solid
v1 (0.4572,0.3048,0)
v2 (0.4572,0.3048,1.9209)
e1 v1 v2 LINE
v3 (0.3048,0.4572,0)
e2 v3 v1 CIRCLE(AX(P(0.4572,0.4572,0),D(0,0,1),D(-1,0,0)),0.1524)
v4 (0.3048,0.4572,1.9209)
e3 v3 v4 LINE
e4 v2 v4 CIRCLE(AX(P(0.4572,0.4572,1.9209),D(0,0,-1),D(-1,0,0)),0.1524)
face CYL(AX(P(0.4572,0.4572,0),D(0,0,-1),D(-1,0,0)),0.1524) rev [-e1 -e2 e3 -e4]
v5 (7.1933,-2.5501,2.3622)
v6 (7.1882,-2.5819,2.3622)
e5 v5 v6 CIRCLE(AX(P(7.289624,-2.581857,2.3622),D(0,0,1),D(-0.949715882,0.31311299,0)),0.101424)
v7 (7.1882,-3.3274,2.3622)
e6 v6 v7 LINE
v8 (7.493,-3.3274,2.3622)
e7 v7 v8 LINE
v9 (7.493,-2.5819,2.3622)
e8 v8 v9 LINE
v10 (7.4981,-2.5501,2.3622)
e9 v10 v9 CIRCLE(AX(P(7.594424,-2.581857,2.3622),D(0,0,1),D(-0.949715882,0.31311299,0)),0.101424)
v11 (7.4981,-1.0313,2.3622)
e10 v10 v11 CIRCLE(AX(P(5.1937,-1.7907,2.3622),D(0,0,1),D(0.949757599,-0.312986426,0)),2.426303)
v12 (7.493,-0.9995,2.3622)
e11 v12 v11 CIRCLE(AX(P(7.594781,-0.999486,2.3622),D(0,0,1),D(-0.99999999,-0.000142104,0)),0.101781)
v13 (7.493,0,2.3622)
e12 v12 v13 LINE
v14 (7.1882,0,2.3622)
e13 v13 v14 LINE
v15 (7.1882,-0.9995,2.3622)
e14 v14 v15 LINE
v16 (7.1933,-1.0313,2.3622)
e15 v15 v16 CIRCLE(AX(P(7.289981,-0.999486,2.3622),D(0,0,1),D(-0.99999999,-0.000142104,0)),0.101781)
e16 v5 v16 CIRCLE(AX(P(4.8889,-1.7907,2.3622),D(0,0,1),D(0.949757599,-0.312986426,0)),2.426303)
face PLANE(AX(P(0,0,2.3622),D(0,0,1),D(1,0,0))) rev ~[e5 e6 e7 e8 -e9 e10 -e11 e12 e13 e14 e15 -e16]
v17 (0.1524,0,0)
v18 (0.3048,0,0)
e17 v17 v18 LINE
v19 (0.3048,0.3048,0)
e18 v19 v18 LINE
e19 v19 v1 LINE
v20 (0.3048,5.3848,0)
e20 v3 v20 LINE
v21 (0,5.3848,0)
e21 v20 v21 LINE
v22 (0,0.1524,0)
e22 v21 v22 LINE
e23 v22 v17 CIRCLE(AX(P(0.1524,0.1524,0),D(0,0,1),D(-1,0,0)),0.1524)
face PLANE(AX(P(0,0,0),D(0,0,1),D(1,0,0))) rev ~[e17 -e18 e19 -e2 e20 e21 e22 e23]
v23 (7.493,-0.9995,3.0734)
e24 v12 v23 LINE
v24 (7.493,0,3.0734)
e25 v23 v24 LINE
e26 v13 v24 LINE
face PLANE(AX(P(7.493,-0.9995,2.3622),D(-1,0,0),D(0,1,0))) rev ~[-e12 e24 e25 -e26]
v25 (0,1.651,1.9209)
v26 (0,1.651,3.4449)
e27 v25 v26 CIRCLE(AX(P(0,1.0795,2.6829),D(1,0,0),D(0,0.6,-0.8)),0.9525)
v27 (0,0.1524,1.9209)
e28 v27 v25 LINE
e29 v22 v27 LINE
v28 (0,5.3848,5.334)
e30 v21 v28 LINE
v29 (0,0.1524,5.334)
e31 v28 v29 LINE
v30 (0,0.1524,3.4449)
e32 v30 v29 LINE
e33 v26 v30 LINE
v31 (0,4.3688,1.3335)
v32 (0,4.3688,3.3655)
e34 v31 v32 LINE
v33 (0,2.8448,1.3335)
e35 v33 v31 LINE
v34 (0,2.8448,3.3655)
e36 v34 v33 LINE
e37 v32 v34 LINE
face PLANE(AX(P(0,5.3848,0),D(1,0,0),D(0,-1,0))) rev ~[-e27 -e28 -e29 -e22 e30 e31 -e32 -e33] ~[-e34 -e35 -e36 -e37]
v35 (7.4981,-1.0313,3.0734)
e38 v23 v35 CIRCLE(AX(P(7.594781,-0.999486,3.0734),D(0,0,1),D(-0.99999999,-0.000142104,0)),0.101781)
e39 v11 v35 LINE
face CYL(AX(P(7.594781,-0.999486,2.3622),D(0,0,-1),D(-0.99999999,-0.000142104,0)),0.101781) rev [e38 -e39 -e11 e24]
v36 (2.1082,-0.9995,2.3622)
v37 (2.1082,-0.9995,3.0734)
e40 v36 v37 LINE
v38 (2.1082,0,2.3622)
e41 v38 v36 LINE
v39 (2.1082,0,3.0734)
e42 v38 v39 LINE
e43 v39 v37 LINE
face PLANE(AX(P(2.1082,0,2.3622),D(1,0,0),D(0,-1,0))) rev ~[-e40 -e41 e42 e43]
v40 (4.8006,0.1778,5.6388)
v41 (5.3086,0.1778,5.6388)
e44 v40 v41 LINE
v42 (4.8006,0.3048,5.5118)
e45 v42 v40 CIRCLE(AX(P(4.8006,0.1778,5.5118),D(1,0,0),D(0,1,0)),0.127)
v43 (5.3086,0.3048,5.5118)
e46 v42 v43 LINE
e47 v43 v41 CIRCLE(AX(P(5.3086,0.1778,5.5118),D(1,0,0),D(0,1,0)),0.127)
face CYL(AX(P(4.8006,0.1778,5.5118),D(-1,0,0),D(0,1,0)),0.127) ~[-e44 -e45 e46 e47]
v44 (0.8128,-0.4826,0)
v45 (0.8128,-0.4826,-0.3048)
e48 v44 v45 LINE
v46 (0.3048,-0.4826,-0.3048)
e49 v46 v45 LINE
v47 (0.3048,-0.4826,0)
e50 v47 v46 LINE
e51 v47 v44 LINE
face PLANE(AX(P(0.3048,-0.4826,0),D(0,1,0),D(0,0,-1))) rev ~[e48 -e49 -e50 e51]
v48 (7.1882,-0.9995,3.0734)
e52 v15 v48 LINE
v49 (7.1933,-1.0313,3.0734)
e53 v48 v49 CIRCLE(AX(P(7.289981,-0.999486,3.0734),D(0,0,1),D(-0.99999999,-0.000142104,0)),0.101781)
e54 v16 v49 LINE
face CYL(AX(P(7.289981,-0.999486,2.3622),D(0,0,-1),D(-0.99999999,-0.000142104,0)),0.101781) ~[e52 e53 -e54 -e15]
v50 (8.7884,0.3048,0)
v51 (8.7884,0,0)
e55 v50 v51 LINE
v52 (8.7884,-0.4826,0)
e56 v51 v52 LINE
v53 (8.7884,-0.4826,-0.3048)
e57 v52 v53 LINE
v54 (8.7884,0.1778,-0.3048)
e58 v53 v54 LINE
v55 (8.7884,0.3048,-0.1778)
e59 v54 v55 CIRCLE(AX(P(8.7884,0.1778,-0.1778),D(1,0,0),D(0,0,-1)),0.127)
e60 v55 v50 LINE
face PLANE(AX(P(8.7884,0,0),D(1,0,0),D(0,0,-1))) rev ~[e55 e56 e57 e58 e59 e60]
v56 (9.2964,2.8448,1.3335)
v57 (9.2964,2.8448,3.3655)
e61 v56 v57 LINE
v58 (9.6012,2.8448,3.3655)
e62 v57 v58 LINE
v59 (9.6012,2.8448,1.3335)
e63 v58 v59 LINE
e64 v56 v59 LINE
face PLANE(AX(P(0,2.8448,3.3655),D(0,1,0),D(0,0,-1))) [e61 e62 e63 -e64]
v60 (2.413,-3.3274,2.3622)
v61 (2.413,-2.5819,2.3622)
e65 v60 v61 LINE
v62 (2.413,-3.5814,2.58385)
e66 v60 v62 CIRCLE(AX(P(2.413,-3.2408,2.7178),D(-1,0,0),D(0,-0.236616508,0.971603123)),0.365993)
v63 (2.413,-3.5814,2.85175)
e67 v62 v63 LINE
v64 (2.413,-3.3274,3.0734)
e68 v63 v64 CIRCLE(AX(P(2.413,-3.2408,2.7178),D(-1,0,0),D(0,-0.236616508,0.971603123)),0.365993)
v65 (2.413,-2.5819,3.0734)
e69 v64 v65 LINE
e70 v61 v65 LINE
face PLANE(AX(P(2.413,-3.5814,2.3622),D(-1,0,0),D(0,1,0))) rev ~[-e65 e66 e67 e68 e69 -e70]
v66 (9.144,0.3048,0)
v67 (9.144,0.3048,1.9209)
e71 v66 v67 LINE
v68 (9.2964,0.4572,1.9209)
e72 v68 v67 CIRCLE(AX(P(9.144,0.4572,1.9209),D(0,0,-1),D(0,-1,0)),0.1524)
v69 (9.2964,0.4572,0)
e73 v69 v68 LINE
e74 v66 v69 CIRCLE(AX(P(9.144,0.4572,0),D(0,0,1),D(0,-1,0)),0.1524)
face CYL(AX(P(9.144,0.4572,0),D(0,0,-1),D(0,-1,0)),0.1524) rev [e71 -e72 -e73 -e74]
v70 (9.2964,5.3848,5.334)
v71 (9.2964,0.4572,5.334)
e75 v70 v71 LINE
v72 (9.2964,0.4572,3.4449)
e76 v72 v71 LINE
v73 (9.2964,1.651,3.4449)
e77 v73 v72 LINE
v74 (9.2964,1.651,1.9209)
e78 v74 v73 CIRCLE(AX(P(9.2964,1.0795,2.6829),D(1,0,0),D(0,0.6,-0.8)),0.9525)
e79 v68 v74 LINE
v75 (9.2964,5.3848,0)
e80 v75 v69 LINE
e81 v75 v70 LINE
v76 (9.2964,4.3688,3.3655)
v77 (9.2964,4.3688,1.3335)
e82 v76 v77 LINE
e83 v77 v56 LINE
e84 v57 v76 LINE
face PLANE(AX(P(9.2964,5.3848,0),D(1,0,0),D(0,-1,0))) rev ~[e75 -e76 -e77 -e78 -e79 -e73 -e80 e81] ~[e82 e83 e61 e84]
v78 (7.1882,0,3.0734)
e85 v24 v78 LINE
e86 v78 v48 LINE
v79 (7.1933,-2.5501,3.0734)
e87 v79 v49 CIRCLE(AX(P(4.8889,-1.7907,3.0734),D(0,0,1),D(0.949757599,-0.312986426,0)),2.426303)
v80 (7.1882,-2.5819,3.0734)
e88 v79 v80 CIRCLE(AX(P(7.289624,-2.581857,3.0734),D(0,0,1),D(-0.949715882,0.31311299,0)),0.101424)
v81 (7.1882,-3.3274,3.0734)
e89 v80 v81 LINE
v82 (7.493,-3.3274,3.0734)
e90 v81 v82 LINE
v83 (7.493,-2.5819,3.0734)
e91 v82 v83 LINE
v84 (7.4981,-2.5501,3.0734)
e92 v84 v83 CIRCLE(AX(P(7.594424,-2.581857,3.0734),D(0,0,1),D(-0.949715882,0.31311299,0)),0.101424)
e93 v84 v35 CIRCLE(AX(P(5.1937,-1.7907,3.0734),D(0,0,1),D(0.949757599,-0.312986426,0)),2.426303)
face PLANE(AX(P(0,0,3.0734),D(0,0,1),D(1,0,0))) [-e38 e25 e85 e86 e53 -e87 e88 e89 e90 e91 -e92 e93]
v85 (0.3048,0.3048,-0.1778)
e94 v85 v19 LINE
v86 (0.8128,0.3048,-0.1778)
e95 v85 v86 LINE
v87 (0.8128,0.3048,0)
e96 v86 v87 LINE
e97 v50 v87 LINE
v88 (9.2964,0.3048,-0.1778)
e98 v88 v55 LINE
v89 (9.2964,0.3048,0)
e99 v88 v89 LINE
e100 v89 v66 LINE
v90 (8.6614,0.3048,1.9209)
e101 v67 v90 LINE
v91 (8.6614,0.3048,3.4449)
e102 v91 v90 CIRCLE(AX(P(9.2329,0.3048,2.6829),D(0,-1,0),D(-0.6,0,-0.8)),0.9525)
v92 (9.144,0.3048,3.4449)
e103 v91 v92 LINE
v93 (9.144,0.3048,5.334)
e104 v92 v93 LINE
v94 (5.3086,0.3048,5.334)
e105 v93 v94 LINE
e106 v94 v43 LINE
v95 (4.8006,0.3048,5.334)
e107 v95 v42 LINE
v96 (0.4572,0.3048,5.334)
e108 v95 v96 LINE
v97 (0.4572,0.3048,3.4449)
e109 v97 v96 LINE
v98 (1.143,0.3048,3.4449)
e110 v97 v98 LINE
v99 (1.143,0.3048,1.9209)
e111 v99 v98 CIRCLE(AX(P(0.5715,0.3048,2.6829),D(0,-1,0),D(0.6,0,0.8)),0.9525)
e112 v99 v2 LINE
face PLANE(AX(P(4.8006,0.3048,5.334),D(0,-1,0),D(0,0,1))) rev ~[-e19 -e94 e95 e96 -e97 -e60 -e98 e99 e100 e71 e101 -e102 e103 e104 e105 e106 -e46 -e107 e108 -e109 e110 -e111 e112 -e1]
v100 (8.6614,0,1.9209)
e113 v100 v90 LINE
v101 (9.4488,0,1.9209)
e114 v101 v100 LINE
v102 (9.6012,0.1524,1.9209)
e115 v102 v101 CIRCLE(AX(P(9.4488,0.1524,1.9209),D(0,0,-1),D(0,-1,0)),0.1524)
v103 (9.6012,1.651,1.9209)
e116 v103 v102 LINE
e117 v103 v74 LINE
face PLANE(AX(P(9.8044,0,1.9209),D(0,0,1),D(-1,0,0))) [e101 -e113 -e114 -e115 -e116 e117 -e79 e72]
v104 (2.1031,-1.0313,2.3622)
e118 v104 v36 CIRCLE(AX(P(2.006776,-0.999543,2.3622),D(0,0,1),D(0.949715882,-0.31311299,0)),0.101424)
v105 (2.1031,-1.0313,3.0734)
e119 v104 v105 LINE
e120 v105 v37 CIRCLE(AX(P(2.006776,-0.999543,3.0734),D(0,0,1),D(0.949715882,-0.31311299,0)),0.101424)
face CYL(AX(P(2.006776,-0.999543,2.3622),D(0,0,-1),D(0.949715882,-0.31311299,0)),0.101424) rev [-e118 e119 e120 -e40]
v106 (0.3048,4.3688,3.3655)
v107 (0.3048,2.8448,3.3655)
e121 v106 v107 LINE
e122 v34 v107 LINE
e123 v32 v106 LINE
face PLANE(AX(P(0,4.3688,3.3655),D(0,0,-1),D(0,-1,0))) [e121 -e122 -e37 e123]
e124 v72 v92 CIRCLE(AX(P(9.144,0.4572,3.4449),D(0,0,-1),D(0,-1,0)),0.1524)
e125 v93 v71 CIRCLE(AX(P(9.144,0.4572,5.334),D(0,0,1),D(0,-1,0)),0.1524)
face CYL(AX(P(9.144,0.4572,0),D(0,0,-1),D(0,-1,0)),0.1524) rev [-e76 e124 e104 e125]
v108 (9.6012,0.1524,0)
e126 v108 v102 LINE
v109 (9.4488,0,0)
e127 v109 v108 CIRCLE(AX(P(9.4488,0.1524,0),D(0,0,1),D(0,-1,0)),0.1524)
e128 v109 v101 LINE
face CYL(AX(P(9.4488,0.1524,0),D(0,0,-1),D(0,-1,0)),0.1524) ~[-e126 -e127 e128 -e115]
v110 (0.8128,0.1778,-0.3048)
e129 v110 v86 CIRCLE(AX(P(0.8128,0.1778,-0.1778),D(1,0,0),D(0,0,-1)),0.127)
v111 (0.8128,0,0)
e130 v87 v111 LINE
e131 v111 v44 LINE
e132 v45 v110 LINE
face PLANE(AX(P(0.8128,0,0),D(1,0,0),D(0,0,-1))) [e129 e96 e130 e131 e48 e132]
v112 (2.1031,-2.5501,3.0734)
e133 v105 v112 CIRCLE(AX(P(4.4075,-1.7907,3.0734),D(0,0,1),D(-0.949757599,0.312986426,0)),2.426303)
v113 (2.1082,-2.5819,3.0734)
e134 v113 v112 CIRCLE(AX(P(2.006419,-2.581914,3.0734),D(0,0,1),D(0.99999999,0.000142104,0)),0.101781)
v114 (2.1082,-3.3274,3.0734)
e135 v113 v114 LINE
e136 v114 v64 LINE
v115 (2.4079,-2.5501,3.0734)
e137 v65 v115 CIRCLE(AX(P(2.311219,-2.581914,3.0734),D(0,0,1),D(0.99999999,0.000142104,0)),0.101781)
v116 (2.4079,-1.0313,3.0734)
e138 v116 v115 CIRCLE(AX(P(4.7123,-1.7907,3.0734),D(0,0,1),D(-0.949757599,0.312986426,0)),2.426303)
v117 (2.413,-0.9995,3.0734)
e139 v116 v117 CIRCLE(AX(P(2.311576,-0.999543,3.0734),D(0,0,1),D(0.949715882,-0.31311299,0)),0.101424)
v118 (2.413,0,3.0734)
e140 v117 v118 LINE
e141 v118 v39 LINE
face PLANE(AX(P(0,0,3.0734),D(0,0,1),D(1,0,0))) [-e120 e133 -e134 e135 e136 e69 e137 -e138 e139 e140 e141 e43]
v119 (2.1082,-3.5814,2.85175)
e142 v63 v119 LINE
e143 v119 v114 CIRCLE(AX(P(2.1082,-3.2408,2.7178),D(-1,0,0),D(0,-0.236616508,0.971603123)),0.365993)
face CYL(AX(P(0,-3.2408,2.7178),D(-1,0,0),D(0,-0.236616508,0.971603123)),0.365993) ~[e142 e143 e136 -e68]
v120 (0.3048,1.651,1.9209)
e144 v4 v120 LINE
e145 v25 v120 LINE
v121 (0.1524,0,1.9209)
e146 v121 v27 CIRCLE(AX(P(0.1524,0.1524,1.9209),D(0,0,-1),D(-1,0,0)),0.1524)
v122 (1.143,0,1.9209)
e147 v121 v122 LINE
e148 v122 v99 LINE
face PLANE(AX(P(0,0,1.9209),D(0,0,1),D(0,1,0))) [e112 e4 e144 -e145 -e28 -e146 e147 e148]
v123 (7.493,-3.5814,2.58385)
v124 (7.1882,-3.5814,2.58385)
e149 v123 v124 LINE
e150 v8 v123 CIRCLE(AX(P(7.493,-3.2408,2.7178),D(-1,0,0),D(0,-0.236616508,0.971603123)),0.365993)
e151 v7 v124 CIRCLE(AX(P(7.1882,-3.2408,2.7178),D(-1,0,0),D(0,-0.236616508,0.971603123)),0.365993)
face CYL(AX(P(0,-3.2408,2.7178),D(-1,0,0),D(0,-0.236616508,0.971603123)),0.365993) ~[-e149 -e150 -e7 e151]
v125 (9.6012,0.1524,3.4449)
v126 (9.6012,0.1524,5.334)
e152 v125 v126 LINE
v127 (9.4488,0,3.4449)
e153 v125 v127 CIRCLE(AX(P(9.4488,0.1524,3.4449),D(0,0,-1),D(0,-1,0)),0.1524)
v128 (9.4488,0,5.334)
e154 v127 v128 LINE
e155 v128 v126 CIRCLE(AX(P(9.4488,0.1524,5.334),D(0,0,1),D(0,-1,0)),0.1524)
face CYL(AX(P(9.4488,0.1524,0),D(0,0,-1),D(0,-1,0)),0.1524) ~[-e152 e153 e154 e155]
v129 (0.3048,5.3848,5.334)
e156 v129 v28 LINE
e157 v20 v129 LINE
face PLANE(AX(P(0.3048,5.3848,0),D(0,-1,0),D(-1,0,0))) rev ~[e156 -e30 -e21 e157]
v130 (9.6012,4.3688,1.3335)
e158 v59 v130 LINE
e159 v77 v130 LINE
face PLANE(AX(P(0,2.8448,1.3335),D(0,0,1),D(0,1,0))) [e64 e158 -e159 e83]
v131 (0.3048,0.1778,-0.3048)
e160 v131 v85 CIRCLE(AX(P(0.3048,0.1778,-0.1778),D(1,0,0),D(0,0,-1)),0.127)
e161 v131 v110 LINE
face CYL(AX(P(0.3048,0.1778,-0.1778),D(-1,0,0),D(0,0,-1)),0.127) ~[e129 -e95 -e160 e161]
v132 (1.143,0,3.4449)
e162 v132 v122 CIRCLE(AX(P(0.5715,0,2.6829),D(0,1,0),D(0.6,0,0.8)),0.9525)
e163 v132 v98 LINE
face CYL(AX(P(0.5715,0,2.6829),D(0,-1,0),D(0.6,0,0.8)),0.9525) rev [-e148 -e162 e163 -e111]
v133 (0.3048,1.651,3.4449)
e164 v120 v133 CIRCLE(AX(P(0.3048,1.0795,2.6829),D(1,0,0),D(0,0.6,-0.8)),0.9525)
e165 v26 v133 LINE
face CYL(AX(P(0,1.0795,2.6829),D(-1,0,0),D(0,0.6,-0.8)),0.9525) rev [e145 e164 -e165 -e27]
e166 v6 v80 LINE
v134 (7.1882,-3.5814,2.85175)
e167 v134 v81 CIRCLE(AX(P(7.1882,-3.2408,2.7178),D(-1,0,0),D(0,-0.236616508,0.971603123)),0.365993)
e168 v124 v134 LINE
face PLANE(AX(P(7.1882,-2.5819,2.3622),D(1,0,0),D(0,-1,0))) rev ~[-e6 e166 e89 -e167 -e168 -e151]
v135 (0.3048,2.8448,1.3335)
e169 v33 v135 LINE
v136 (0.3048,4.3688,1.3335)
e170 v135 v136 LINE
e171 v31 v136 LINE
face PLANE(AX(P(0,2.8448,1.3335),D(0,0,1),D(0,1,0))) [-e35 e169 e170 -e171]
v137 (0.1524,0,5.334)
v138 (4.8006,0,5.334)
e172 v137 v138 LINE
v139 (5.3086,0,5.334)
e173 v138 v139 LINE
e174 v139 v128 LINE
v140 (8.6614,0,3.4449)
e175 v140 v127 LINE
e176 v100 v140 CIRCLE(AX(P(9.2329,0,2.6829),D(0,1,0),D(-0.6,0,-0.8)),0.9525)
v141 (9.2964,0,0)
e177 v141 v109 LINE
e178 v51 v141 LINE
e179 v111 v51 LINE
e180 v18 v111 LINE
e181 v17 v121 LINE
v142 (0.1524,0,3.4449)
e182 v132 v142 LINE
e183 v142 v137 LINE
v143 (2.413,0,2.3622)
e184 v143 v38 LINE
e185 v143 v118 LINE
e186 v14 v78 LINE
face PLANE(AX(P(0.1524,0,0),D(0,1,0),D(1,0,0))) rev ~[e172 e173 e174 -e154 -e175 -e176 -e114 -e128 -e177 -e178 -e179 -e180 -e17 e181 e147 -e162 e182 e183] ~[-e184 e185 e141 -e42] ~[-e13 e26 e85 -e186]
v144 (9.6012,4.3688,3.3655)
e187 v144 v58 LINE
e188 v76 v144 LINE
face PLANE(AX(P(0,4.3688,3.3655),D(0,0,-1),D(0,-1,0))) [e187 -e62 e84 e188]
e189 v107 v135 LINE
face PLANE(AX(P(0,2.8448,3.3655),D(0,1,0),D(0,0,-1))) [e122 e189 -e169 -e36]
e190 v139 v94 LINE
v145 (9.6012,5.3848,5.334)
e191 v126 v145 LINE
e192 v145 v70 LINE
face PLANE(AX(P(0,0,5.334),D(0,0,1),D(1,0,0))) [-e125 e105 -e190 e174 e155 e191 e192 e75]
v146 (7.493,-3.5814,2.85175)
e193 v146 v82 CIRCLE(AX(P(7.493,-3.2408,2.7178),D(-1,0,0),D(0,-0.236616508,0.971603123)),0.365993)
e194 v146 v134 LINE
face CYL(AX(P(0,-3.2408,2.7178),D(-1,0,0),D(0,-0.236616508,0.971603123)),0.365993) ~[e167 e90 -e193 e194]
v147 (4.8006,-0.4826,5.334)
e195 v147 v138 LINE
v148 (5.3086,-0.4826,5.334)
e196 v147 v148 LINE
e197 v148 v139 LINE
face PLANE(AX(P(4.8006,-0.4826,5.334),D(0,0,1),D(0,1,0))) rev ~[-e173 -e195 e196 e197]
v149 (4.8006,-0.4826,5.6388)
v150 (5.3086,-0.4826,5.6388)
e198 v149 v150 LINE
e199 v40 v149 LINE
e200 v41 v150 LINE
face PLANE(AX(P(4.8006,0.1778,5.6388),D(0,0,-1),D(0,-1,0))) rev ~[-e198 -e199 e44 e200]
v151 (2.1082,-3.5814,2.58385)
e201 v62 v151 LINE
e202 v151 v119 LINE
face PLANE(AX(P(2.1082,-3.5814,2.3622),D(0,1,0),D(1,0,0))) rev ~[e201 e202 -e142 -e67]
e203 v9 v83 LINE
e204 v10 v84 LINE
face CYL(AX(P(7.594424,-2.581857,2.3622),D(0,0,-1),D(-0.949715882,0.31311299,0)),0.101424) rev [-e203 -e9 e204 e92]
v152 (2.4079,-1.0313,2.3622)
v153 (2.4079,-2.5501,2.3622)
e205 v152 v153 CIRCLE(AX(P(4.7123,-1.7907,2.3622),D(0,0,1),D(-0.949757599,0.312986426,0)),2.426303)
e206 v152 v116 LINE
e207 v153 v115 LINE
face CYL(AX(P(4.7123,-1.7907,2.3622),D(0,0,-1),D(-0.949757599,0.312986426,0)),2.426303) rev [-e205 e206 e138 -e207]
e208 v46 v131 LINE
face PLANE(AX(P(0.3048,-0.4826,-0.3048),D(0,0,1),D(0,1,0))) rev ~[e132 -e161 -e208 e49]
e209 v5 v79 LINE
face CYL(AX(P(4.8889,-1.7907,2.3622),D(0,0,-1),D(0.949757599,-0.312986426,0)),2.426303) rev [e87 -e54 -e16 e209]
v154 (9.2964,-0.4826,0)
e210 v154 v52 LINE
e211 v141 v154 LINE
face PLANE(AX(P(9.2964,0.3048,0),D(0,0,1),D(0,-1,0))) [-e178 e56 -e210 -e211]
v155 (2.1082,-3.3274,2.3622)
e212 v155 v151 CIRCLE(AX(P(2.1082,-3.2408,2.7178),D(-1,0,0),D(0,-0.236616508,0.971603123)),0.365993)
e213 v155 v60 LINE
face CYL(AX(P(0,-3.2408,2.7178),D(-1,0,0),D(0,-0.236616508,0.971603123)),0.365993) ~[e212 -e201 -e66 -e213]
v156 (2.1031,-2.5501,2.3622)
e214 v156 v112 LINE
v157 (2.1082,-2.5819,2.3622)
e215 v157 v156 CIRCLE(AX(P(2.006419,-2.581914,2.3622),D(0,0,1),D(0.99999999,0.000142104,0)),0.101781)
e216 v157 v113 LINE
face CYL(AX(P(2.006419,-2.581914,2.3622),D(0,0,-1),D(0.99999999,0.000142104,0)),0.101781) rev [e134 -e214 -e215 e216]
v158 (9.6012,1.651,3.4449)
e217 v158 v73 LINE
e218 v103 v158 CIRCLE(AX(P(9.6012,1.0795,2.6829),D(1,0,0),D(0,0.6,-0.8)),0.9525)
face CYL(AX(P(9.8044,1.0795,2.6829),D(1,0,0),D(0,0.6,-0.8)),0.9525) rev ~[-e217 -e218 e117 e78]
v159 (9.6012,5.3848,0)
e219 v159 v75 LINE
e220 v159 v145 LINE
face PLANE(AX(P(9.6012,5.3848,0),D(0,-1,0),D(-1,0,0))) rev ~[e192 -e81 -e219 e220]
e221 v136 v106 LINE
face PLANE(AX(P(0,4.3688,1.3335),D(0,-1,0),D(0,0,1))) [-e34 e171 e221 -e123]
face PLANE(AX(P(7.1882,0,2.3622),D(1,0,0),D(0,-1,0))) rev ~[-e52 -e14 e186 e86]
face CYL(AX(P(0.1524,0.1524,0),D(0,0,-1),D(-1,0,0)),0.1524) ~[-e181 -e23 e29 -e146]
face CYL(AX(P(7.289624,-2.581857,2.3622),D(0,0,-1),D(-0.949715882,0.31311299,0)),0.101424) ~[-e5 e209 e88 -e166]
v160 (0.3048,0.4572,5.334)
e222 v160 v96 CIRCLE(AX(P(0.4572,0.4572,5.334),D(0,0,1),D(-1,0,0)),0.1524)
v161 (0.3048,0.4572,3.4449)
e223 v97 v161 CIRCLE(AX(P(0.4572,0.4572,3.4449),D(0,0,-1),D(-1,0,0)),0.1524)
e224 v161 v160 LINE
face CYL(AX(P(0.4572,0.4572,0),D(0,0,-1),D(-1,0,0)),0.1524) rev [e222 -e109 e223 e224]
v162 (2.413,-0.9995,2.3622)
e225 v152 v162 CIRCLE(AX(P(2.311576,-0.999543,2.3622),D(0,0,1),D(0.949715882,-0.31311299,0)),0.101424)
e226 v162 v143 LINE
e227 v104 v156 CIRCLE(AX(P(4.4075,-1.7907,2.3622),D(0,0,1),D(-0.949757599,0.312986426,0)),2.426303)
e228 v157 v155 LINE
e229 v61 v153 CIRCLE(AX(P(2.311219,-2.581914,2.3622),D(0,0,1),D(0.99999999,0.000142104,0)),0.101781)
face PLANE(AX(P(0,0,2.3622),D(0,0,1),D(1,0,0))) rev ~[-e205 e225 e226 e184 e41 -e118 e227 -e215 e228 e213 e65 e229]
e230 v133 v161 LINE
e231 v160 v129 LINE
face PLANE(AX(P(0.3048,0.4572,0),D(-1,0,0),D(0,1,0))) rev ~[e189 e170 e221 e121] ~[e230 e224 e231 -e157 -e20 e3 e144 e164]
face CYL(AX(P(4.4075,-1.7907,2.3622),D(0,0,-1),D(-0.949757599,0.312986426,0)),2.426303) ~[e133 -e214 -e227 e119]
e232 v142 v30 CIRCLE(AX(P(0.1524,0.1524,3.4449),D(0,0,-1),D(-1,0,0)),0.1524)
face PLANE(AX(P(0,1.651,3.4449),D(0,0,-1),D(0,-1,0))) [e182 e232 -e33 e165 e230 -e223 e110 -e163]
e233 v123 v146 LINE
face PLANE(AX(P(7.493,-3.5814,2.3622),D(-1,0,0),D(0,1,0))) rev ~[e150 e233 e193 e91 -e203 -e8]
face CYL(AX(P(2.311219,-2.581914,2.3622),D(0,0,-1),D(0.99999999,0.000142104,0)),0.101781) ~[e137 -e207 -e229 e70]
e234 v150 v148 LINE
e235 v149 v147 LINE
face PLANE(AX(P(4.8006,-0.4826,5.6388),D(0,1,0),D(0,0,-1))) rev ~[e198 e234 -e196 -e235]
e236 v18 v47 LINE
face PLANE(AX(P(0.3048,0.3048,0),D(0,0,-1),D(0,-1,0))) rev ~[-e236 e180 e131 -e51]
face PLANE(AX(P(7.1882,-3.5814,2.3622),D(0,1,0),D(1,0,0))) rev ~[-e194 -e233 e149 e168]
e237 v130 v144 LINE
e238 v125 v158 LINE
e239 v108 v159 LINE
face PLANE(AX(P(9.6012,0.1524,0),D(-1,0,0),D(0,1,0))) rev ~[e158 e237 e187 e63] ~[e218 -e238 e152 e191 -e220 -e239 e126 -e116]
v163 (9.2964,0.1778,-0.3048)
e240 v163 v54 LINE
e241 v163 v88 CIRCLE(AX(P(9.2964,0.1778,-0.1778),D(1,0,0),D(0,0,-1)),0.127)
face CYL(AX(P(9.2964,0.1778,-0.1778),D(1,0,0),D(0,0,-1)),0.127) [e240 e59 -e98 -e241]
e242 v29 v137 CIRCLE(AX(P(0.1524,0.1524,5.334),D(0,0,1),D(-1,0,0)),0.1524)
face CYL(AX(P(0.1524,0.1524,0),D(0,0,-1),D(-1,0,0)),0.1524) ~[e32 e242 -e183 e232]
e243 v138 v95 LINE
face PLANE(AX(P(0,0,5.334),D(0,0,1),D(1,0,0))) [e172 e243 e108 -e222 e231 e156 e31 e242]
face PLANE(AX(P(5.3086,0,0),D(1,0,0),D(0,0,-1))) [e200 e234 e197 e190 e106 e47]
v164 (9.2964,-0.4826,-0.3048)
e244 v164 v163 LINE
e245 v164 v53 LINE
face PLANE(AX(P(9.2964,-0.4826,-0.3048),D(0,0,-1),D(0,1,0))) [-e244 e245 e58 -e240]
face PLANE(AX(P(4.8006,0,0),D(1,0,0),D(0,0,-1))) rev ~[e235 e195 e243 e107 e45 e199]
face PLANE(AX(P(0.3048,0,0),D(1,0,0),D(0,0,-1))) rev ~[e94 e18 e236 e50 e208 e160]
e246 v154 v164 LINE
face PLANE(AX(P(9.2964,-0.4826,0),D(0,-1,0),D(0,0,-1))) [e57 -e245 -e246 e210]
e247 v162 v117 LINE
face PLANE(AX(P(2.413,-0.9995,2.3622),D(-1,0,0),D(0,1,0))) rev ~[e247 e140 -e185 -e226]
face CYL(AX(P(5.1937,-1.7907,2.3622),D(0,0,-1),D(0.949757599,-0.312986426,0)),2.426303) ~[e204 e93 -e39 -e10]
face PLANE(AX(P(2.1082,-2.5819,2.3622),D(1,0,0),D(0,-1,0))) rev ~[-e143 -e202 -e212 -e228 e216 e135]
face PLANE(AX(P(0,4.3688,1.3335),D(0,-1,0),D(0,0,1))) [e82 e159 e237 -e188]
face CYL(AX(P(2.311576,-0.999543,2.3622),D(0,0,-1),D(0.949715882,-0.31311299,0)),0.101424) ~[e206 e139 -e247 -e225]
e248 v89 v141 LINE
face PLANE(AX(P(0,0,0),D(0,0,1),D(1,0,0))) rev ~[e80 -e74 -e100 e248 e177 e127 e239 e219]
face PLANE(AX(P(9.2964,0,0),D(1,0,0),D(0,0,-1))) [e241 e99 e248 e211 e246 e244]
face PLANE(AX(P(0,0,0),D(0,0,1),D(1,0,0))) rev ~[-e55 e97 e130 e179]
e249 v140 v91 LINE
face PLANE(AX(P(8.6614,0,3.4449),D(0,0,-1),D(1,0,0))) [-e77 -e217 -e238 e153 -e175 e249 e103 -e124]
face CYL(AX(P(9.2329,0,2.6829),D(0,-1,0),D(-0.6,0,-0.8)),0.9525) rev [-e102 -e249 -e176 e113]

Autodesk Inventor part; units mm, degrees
sketch "Sketch_1" plane through (0, 0, 0) normal (0, 0, 1) x (1, 0, 0)
  arc A0 (0, 0.1524) -> (0.1524, 0) centre (0.1524, 0.1524) ccw
  line L0 (0.1524, 0) -> (9.4488, 0)
  arc A1 (9.4488, 0) -> (9.6012, 0.1524) centre (9.4488, 0.1524) ccw
  line L1 (9.6012, 0.1524) -> (9.6012, 5.3848)
  line L2 (9.6012, 5.3848) -> (9.2964, 5.3848)
  line L3 (9.2964, 5.3848) -> (9.2964, 0.4572)
  arc A2 (9.144, 0.3048) -> (9.2964, 0.4572) centre (9.144, 0.4572) ccw
  line L4 (9.144, 0.3048) -> (0.4572, 0.3048)
  arc A3 (0.3048, 0.4572) -> (0.4572, 0.3048) centre (0.4572, 0.4572) ccw
  line L5 (0.3048, 0.4572) -> (0.3048, 5.3848)
  line L6 (0.3048, 5.3848) -> (0, 5.3848)
  line L7 (0, 5.3848) -> (0, 0.1524)
extrude "Extrusion1" add sketch "Sketch_1" along normal blind 5.334
sketch "Sketch_3" plane through (0, 0, 2.3622) normal (0, 0, 1) x (1, 0, 0)
  arc A0 (2.1031, -1.0313) -> (2.1031, -2.5501) centre (4.4075, -1.7907) ccw
  arc A1 (2.1082, -2.5819) -> (2.1031, -2.5501) centre (2.0066, -2.5819) ccw
  line L0 (2.1082, -2.5819) -> (2.1082, -3.5814)
  line L1 (2.1082, -3.5814) -> (2.413, -3.5814)
  line L2 (2.413, -3.5814) -> (2.413, -2.5819)
  arc A2 (2.413, -2.5819) -> (2.4079, -2.5501) centre (2.3114, -2.5819) ccw
  arc A3 (2.4079, -1.0313) -> (2.4079, -2.5501) centre (4.7123, -1.7907) ccw
  arc A4 (2.4079, -1.0313) -> (2.413, -0.9995) centre (2.3114, -0.9995) ccw
  line L3 (2.413, -0.9995) -> (2.413, 0)
  line L4 (2.413, 0) -> (2.1082, 0)
  line L5 (2.1082, 0) -> (2.1082, -0.9995)
  arc A5 (2.1031, -1.0313) -> (2.1082, -0.9995) centre (2.0066, -0.9995) ccw
extrude "Extrusion2" add sketch "Sketch_3" along normal blind 0.7112
sketch "Sketch_4" plane through (0, 0, 2.3622) normal (0, 0, 1) x (1, 0, 0)
  arc A0 (7.1882, -0.9995) -> (7.1933, -1.0313) centre (7.2898, -0.9995) ccw
  arc A1 (7.1933, -2.5501) -> (7.1933, -1.0313) centre (4.8889, -1.7907) ccw
  arc A2 (7.1933, -2.5501) -> (7.1882, -2.5819) centre (7.2898, -2.5819) ccw
  line L0 (7.1882, -2.5819) -> (7.1882, -3.5814)
  line L1 (7.1882, -3.5814) -> (7.493, -3.5814)
  line L2 (7.493, -3.5814) -> (7.493, -2.5819)
  arc A3 (7.4981, -2.5501) -> (7.493, -2.5819) centre (7.5946, -2.5819) ccw
  arc A4 (7.4981, -2.5501) -> (7.4981, -1.0313) centre (5.1937, -1.7907) ccw
  arc A5 (7.493, -0.9995) -> (7.4981, -1.0313) centre (7.5946, -0.9995) ccw
  line L3 (7.493, -0.9995) -> (7.493, 0)
  line L4 (7.493, 0) -> (7.1882, 0)
  line L5 (7.1882, 0) -> (7.1882, -0.9995)
extrude "Extrusion3" add sketch "Sketch_4" along normal blind 0.7112
sketch "Sketch_5" plane through (0, 0, 0) normal (1, 0, 0) x (0, 1, 0)
  line L0 (-3.3274, 3.0734) -> (-3.8354, 3.0734)
  line L1 (-3.8354, 3.0734) -> (-3.8354, 2.3622)
  line L2 (-3.8354, 2.3622) -> (-3.3274, 2.3622)
  arc A0 (-3.3274, 3.0734) -> (-3.3274, 2.3622) centre (-3.2408, 2.7178) ccw
extrude "Extrusion4" cut sketch "Sketch_5" along normal blind 8.3058
sketch "Sketch_6" plane through (0, 0, 0) normal (1, 0, 0) x (0, 1, 0)
  line L0 (2.8448, 3.3655) -> (2.8448, 1.3335)
  line L1 (2.8448, 1.3335) -> (4.3688, 1.3335)
  line L2 (4.3688, 1.3335) -> (4.3688, 3.3655)
  line L3 (4.3688, 3.3655) -> (2.8448, 3.3655)
extrude "Extrusion5" cut sketch "Sketch_6" along normal blind 10.16
sketch "Sketch_7" plane through (0, 0, 0) normal (1, 0, 0) x (0, 1, 0)
  line L0 (1.651, 3.4449) -> (0, 3.4449)
  line L1 (0, 3.4449) -> (0, 1.9209)
  line L2 (0, 1.9209) -> (1.651, 1.9209)
  arc A0 (1.651, 1.9209) -> (1.651, 3.4449) centre (1.0795, 2.6829) ccw
extrude "Extrusion6" cut sketch "Sketch_7" along normal blind 0.3048
sketch "Sketch_8" plane through (9.8044, 0, 0) normal (1, 0, 0) x (0, 0, -1)
  line L0 (-3.4449, 1.651) -> (-3.4449, 0)
  line L1 (-3.4449, 0) -> (-1.9209, 0)
  line L2 (-1.9209, 0) -> (-1.9209, 1.651)
  arc A0 (-1.9209, 1.651) -> (-3.4449, 1.651) centre (-2.6829, 1.0795) ccw
extrude "Extrusion7" cut sketch "Sketch_8" against normal blind 0.508
sketch "Sketch_9" plane through (0, 0, 0) normal (0, 1, 0) x (-1, 0, 0)
  line L0 (0, 1.9209) -> (0, 3.4449)
  line L1 (0, 3.4449) -> (-1.143, 3.4449)
  arc A0 (-1.143, 3.4449) -> (-1.143, 1.9209) centre (-0.5715, 2.6829) ccw
  line L2 (-1.143, 1.9209) -> (0, 1.9209)
extrude "Extrusion8" cut sketch "Sketch_9" along normal blind 0.508
sketch "Sketch_10" plane through (0, 0, 0) normal (0, 1, 0) x (-1, 0, 0)
  arc A0 (-8.6614, 1.9209) -> (-8.6614, 3.4449) centre (-9.2329, 2.6829) ccw
  line L0 (-8.6614, 3.4449) -> (-9.8044, 3.4449)
  line L1 (-9.8044, 3.4449) -> (-9.8044, 1.9209)
  line L2 (-9.8044, 1.9209) -> (-8.6614, 1.9209)
extrude "Extrusion9" cut sketch "Sketch_10" along normal blind 0.508
sketch "Sketch_11" plane through (0.3048, 0, 0) normal (1, 0, 0) x (0, 0, -1)
  line L0 (0, -0.4826) -> (0.3048, -0.4826)
  line L1 (0.3048, -0.4826) -> (0.3048, 0.1778)
  arc A0 (0.3048, 0.1778) -> (0.1778, 0.3048) centre (0.1778, 0.1778) ccw
  line L2 (0.1778, 0.3048) -> (0, 0.3048)
  line L3 (0, 0.3048) -> (0, -0.4826)
extrude "Extrusion10" add sketch "Sketch_11" along normal blind 0.508
sketch "Sketch_12" plane through (9.2964, 0, 0) normal (1, 0, 0) x (0, 0, -1)
  line L0 (0, -0.4826) -> (0.3048, -0.4826)
  line L1 (0.3048, -0.4826) -> (0.3048, 0.1778)
  arc A0 (0.3048, 0.1778) -> (0.1778, 0.3048) centre (0.1778, 0.1778) ccw
  line L2 (0.1778, 0.3048) -> (0, 0.3048)
  line L3 (0, 0.3048) -> (0, -0.4826)
extrude "Extrusion11" add sketch "Sketch_12" against normal blind 0.508
sketch "Sketch_13" plane through (4.8006, 0, 0) normal (1, 0, 0) x (0, 0, -1)
  line L0 (-5.6388, -0.4826) -> (-5.334, -0.4826)
  line L1 (-5.334, -0.4826) -> (-5.334, 0.3048)
  line L2 (-5.334, 0.3048) -> (-5.5118, 0.3048)
  arc A0 (-5.5118, 0.3048) -> (-5.6388, 0.1778) centre (-5.5118, 0.1778) ccw
  line L3 (-5.6388, 0.1778) -> (-5.6388, -0.4826)
extrude "Extrusion12" add sketch "Sketch_13" along normal blind 0.508
ref_plane "cp_right_body_pole1_XY" through (4.8006, 0.3048, 3.3655) normal (0, -1, 0) x (1, 0, 0)
ref_plane "cp_right_body_pole1_YZ" through (4.8006, 0.3048, 3.3655) normal (1, 0, 0) x (0, 0, 1)
ref_plane "cp_right_body_pole1_ZX" through (4.8006, 0.3048, 3.3655) normal (0, 0, 1) x (0, -1, 0)
properties part number "AS11CHra1"
